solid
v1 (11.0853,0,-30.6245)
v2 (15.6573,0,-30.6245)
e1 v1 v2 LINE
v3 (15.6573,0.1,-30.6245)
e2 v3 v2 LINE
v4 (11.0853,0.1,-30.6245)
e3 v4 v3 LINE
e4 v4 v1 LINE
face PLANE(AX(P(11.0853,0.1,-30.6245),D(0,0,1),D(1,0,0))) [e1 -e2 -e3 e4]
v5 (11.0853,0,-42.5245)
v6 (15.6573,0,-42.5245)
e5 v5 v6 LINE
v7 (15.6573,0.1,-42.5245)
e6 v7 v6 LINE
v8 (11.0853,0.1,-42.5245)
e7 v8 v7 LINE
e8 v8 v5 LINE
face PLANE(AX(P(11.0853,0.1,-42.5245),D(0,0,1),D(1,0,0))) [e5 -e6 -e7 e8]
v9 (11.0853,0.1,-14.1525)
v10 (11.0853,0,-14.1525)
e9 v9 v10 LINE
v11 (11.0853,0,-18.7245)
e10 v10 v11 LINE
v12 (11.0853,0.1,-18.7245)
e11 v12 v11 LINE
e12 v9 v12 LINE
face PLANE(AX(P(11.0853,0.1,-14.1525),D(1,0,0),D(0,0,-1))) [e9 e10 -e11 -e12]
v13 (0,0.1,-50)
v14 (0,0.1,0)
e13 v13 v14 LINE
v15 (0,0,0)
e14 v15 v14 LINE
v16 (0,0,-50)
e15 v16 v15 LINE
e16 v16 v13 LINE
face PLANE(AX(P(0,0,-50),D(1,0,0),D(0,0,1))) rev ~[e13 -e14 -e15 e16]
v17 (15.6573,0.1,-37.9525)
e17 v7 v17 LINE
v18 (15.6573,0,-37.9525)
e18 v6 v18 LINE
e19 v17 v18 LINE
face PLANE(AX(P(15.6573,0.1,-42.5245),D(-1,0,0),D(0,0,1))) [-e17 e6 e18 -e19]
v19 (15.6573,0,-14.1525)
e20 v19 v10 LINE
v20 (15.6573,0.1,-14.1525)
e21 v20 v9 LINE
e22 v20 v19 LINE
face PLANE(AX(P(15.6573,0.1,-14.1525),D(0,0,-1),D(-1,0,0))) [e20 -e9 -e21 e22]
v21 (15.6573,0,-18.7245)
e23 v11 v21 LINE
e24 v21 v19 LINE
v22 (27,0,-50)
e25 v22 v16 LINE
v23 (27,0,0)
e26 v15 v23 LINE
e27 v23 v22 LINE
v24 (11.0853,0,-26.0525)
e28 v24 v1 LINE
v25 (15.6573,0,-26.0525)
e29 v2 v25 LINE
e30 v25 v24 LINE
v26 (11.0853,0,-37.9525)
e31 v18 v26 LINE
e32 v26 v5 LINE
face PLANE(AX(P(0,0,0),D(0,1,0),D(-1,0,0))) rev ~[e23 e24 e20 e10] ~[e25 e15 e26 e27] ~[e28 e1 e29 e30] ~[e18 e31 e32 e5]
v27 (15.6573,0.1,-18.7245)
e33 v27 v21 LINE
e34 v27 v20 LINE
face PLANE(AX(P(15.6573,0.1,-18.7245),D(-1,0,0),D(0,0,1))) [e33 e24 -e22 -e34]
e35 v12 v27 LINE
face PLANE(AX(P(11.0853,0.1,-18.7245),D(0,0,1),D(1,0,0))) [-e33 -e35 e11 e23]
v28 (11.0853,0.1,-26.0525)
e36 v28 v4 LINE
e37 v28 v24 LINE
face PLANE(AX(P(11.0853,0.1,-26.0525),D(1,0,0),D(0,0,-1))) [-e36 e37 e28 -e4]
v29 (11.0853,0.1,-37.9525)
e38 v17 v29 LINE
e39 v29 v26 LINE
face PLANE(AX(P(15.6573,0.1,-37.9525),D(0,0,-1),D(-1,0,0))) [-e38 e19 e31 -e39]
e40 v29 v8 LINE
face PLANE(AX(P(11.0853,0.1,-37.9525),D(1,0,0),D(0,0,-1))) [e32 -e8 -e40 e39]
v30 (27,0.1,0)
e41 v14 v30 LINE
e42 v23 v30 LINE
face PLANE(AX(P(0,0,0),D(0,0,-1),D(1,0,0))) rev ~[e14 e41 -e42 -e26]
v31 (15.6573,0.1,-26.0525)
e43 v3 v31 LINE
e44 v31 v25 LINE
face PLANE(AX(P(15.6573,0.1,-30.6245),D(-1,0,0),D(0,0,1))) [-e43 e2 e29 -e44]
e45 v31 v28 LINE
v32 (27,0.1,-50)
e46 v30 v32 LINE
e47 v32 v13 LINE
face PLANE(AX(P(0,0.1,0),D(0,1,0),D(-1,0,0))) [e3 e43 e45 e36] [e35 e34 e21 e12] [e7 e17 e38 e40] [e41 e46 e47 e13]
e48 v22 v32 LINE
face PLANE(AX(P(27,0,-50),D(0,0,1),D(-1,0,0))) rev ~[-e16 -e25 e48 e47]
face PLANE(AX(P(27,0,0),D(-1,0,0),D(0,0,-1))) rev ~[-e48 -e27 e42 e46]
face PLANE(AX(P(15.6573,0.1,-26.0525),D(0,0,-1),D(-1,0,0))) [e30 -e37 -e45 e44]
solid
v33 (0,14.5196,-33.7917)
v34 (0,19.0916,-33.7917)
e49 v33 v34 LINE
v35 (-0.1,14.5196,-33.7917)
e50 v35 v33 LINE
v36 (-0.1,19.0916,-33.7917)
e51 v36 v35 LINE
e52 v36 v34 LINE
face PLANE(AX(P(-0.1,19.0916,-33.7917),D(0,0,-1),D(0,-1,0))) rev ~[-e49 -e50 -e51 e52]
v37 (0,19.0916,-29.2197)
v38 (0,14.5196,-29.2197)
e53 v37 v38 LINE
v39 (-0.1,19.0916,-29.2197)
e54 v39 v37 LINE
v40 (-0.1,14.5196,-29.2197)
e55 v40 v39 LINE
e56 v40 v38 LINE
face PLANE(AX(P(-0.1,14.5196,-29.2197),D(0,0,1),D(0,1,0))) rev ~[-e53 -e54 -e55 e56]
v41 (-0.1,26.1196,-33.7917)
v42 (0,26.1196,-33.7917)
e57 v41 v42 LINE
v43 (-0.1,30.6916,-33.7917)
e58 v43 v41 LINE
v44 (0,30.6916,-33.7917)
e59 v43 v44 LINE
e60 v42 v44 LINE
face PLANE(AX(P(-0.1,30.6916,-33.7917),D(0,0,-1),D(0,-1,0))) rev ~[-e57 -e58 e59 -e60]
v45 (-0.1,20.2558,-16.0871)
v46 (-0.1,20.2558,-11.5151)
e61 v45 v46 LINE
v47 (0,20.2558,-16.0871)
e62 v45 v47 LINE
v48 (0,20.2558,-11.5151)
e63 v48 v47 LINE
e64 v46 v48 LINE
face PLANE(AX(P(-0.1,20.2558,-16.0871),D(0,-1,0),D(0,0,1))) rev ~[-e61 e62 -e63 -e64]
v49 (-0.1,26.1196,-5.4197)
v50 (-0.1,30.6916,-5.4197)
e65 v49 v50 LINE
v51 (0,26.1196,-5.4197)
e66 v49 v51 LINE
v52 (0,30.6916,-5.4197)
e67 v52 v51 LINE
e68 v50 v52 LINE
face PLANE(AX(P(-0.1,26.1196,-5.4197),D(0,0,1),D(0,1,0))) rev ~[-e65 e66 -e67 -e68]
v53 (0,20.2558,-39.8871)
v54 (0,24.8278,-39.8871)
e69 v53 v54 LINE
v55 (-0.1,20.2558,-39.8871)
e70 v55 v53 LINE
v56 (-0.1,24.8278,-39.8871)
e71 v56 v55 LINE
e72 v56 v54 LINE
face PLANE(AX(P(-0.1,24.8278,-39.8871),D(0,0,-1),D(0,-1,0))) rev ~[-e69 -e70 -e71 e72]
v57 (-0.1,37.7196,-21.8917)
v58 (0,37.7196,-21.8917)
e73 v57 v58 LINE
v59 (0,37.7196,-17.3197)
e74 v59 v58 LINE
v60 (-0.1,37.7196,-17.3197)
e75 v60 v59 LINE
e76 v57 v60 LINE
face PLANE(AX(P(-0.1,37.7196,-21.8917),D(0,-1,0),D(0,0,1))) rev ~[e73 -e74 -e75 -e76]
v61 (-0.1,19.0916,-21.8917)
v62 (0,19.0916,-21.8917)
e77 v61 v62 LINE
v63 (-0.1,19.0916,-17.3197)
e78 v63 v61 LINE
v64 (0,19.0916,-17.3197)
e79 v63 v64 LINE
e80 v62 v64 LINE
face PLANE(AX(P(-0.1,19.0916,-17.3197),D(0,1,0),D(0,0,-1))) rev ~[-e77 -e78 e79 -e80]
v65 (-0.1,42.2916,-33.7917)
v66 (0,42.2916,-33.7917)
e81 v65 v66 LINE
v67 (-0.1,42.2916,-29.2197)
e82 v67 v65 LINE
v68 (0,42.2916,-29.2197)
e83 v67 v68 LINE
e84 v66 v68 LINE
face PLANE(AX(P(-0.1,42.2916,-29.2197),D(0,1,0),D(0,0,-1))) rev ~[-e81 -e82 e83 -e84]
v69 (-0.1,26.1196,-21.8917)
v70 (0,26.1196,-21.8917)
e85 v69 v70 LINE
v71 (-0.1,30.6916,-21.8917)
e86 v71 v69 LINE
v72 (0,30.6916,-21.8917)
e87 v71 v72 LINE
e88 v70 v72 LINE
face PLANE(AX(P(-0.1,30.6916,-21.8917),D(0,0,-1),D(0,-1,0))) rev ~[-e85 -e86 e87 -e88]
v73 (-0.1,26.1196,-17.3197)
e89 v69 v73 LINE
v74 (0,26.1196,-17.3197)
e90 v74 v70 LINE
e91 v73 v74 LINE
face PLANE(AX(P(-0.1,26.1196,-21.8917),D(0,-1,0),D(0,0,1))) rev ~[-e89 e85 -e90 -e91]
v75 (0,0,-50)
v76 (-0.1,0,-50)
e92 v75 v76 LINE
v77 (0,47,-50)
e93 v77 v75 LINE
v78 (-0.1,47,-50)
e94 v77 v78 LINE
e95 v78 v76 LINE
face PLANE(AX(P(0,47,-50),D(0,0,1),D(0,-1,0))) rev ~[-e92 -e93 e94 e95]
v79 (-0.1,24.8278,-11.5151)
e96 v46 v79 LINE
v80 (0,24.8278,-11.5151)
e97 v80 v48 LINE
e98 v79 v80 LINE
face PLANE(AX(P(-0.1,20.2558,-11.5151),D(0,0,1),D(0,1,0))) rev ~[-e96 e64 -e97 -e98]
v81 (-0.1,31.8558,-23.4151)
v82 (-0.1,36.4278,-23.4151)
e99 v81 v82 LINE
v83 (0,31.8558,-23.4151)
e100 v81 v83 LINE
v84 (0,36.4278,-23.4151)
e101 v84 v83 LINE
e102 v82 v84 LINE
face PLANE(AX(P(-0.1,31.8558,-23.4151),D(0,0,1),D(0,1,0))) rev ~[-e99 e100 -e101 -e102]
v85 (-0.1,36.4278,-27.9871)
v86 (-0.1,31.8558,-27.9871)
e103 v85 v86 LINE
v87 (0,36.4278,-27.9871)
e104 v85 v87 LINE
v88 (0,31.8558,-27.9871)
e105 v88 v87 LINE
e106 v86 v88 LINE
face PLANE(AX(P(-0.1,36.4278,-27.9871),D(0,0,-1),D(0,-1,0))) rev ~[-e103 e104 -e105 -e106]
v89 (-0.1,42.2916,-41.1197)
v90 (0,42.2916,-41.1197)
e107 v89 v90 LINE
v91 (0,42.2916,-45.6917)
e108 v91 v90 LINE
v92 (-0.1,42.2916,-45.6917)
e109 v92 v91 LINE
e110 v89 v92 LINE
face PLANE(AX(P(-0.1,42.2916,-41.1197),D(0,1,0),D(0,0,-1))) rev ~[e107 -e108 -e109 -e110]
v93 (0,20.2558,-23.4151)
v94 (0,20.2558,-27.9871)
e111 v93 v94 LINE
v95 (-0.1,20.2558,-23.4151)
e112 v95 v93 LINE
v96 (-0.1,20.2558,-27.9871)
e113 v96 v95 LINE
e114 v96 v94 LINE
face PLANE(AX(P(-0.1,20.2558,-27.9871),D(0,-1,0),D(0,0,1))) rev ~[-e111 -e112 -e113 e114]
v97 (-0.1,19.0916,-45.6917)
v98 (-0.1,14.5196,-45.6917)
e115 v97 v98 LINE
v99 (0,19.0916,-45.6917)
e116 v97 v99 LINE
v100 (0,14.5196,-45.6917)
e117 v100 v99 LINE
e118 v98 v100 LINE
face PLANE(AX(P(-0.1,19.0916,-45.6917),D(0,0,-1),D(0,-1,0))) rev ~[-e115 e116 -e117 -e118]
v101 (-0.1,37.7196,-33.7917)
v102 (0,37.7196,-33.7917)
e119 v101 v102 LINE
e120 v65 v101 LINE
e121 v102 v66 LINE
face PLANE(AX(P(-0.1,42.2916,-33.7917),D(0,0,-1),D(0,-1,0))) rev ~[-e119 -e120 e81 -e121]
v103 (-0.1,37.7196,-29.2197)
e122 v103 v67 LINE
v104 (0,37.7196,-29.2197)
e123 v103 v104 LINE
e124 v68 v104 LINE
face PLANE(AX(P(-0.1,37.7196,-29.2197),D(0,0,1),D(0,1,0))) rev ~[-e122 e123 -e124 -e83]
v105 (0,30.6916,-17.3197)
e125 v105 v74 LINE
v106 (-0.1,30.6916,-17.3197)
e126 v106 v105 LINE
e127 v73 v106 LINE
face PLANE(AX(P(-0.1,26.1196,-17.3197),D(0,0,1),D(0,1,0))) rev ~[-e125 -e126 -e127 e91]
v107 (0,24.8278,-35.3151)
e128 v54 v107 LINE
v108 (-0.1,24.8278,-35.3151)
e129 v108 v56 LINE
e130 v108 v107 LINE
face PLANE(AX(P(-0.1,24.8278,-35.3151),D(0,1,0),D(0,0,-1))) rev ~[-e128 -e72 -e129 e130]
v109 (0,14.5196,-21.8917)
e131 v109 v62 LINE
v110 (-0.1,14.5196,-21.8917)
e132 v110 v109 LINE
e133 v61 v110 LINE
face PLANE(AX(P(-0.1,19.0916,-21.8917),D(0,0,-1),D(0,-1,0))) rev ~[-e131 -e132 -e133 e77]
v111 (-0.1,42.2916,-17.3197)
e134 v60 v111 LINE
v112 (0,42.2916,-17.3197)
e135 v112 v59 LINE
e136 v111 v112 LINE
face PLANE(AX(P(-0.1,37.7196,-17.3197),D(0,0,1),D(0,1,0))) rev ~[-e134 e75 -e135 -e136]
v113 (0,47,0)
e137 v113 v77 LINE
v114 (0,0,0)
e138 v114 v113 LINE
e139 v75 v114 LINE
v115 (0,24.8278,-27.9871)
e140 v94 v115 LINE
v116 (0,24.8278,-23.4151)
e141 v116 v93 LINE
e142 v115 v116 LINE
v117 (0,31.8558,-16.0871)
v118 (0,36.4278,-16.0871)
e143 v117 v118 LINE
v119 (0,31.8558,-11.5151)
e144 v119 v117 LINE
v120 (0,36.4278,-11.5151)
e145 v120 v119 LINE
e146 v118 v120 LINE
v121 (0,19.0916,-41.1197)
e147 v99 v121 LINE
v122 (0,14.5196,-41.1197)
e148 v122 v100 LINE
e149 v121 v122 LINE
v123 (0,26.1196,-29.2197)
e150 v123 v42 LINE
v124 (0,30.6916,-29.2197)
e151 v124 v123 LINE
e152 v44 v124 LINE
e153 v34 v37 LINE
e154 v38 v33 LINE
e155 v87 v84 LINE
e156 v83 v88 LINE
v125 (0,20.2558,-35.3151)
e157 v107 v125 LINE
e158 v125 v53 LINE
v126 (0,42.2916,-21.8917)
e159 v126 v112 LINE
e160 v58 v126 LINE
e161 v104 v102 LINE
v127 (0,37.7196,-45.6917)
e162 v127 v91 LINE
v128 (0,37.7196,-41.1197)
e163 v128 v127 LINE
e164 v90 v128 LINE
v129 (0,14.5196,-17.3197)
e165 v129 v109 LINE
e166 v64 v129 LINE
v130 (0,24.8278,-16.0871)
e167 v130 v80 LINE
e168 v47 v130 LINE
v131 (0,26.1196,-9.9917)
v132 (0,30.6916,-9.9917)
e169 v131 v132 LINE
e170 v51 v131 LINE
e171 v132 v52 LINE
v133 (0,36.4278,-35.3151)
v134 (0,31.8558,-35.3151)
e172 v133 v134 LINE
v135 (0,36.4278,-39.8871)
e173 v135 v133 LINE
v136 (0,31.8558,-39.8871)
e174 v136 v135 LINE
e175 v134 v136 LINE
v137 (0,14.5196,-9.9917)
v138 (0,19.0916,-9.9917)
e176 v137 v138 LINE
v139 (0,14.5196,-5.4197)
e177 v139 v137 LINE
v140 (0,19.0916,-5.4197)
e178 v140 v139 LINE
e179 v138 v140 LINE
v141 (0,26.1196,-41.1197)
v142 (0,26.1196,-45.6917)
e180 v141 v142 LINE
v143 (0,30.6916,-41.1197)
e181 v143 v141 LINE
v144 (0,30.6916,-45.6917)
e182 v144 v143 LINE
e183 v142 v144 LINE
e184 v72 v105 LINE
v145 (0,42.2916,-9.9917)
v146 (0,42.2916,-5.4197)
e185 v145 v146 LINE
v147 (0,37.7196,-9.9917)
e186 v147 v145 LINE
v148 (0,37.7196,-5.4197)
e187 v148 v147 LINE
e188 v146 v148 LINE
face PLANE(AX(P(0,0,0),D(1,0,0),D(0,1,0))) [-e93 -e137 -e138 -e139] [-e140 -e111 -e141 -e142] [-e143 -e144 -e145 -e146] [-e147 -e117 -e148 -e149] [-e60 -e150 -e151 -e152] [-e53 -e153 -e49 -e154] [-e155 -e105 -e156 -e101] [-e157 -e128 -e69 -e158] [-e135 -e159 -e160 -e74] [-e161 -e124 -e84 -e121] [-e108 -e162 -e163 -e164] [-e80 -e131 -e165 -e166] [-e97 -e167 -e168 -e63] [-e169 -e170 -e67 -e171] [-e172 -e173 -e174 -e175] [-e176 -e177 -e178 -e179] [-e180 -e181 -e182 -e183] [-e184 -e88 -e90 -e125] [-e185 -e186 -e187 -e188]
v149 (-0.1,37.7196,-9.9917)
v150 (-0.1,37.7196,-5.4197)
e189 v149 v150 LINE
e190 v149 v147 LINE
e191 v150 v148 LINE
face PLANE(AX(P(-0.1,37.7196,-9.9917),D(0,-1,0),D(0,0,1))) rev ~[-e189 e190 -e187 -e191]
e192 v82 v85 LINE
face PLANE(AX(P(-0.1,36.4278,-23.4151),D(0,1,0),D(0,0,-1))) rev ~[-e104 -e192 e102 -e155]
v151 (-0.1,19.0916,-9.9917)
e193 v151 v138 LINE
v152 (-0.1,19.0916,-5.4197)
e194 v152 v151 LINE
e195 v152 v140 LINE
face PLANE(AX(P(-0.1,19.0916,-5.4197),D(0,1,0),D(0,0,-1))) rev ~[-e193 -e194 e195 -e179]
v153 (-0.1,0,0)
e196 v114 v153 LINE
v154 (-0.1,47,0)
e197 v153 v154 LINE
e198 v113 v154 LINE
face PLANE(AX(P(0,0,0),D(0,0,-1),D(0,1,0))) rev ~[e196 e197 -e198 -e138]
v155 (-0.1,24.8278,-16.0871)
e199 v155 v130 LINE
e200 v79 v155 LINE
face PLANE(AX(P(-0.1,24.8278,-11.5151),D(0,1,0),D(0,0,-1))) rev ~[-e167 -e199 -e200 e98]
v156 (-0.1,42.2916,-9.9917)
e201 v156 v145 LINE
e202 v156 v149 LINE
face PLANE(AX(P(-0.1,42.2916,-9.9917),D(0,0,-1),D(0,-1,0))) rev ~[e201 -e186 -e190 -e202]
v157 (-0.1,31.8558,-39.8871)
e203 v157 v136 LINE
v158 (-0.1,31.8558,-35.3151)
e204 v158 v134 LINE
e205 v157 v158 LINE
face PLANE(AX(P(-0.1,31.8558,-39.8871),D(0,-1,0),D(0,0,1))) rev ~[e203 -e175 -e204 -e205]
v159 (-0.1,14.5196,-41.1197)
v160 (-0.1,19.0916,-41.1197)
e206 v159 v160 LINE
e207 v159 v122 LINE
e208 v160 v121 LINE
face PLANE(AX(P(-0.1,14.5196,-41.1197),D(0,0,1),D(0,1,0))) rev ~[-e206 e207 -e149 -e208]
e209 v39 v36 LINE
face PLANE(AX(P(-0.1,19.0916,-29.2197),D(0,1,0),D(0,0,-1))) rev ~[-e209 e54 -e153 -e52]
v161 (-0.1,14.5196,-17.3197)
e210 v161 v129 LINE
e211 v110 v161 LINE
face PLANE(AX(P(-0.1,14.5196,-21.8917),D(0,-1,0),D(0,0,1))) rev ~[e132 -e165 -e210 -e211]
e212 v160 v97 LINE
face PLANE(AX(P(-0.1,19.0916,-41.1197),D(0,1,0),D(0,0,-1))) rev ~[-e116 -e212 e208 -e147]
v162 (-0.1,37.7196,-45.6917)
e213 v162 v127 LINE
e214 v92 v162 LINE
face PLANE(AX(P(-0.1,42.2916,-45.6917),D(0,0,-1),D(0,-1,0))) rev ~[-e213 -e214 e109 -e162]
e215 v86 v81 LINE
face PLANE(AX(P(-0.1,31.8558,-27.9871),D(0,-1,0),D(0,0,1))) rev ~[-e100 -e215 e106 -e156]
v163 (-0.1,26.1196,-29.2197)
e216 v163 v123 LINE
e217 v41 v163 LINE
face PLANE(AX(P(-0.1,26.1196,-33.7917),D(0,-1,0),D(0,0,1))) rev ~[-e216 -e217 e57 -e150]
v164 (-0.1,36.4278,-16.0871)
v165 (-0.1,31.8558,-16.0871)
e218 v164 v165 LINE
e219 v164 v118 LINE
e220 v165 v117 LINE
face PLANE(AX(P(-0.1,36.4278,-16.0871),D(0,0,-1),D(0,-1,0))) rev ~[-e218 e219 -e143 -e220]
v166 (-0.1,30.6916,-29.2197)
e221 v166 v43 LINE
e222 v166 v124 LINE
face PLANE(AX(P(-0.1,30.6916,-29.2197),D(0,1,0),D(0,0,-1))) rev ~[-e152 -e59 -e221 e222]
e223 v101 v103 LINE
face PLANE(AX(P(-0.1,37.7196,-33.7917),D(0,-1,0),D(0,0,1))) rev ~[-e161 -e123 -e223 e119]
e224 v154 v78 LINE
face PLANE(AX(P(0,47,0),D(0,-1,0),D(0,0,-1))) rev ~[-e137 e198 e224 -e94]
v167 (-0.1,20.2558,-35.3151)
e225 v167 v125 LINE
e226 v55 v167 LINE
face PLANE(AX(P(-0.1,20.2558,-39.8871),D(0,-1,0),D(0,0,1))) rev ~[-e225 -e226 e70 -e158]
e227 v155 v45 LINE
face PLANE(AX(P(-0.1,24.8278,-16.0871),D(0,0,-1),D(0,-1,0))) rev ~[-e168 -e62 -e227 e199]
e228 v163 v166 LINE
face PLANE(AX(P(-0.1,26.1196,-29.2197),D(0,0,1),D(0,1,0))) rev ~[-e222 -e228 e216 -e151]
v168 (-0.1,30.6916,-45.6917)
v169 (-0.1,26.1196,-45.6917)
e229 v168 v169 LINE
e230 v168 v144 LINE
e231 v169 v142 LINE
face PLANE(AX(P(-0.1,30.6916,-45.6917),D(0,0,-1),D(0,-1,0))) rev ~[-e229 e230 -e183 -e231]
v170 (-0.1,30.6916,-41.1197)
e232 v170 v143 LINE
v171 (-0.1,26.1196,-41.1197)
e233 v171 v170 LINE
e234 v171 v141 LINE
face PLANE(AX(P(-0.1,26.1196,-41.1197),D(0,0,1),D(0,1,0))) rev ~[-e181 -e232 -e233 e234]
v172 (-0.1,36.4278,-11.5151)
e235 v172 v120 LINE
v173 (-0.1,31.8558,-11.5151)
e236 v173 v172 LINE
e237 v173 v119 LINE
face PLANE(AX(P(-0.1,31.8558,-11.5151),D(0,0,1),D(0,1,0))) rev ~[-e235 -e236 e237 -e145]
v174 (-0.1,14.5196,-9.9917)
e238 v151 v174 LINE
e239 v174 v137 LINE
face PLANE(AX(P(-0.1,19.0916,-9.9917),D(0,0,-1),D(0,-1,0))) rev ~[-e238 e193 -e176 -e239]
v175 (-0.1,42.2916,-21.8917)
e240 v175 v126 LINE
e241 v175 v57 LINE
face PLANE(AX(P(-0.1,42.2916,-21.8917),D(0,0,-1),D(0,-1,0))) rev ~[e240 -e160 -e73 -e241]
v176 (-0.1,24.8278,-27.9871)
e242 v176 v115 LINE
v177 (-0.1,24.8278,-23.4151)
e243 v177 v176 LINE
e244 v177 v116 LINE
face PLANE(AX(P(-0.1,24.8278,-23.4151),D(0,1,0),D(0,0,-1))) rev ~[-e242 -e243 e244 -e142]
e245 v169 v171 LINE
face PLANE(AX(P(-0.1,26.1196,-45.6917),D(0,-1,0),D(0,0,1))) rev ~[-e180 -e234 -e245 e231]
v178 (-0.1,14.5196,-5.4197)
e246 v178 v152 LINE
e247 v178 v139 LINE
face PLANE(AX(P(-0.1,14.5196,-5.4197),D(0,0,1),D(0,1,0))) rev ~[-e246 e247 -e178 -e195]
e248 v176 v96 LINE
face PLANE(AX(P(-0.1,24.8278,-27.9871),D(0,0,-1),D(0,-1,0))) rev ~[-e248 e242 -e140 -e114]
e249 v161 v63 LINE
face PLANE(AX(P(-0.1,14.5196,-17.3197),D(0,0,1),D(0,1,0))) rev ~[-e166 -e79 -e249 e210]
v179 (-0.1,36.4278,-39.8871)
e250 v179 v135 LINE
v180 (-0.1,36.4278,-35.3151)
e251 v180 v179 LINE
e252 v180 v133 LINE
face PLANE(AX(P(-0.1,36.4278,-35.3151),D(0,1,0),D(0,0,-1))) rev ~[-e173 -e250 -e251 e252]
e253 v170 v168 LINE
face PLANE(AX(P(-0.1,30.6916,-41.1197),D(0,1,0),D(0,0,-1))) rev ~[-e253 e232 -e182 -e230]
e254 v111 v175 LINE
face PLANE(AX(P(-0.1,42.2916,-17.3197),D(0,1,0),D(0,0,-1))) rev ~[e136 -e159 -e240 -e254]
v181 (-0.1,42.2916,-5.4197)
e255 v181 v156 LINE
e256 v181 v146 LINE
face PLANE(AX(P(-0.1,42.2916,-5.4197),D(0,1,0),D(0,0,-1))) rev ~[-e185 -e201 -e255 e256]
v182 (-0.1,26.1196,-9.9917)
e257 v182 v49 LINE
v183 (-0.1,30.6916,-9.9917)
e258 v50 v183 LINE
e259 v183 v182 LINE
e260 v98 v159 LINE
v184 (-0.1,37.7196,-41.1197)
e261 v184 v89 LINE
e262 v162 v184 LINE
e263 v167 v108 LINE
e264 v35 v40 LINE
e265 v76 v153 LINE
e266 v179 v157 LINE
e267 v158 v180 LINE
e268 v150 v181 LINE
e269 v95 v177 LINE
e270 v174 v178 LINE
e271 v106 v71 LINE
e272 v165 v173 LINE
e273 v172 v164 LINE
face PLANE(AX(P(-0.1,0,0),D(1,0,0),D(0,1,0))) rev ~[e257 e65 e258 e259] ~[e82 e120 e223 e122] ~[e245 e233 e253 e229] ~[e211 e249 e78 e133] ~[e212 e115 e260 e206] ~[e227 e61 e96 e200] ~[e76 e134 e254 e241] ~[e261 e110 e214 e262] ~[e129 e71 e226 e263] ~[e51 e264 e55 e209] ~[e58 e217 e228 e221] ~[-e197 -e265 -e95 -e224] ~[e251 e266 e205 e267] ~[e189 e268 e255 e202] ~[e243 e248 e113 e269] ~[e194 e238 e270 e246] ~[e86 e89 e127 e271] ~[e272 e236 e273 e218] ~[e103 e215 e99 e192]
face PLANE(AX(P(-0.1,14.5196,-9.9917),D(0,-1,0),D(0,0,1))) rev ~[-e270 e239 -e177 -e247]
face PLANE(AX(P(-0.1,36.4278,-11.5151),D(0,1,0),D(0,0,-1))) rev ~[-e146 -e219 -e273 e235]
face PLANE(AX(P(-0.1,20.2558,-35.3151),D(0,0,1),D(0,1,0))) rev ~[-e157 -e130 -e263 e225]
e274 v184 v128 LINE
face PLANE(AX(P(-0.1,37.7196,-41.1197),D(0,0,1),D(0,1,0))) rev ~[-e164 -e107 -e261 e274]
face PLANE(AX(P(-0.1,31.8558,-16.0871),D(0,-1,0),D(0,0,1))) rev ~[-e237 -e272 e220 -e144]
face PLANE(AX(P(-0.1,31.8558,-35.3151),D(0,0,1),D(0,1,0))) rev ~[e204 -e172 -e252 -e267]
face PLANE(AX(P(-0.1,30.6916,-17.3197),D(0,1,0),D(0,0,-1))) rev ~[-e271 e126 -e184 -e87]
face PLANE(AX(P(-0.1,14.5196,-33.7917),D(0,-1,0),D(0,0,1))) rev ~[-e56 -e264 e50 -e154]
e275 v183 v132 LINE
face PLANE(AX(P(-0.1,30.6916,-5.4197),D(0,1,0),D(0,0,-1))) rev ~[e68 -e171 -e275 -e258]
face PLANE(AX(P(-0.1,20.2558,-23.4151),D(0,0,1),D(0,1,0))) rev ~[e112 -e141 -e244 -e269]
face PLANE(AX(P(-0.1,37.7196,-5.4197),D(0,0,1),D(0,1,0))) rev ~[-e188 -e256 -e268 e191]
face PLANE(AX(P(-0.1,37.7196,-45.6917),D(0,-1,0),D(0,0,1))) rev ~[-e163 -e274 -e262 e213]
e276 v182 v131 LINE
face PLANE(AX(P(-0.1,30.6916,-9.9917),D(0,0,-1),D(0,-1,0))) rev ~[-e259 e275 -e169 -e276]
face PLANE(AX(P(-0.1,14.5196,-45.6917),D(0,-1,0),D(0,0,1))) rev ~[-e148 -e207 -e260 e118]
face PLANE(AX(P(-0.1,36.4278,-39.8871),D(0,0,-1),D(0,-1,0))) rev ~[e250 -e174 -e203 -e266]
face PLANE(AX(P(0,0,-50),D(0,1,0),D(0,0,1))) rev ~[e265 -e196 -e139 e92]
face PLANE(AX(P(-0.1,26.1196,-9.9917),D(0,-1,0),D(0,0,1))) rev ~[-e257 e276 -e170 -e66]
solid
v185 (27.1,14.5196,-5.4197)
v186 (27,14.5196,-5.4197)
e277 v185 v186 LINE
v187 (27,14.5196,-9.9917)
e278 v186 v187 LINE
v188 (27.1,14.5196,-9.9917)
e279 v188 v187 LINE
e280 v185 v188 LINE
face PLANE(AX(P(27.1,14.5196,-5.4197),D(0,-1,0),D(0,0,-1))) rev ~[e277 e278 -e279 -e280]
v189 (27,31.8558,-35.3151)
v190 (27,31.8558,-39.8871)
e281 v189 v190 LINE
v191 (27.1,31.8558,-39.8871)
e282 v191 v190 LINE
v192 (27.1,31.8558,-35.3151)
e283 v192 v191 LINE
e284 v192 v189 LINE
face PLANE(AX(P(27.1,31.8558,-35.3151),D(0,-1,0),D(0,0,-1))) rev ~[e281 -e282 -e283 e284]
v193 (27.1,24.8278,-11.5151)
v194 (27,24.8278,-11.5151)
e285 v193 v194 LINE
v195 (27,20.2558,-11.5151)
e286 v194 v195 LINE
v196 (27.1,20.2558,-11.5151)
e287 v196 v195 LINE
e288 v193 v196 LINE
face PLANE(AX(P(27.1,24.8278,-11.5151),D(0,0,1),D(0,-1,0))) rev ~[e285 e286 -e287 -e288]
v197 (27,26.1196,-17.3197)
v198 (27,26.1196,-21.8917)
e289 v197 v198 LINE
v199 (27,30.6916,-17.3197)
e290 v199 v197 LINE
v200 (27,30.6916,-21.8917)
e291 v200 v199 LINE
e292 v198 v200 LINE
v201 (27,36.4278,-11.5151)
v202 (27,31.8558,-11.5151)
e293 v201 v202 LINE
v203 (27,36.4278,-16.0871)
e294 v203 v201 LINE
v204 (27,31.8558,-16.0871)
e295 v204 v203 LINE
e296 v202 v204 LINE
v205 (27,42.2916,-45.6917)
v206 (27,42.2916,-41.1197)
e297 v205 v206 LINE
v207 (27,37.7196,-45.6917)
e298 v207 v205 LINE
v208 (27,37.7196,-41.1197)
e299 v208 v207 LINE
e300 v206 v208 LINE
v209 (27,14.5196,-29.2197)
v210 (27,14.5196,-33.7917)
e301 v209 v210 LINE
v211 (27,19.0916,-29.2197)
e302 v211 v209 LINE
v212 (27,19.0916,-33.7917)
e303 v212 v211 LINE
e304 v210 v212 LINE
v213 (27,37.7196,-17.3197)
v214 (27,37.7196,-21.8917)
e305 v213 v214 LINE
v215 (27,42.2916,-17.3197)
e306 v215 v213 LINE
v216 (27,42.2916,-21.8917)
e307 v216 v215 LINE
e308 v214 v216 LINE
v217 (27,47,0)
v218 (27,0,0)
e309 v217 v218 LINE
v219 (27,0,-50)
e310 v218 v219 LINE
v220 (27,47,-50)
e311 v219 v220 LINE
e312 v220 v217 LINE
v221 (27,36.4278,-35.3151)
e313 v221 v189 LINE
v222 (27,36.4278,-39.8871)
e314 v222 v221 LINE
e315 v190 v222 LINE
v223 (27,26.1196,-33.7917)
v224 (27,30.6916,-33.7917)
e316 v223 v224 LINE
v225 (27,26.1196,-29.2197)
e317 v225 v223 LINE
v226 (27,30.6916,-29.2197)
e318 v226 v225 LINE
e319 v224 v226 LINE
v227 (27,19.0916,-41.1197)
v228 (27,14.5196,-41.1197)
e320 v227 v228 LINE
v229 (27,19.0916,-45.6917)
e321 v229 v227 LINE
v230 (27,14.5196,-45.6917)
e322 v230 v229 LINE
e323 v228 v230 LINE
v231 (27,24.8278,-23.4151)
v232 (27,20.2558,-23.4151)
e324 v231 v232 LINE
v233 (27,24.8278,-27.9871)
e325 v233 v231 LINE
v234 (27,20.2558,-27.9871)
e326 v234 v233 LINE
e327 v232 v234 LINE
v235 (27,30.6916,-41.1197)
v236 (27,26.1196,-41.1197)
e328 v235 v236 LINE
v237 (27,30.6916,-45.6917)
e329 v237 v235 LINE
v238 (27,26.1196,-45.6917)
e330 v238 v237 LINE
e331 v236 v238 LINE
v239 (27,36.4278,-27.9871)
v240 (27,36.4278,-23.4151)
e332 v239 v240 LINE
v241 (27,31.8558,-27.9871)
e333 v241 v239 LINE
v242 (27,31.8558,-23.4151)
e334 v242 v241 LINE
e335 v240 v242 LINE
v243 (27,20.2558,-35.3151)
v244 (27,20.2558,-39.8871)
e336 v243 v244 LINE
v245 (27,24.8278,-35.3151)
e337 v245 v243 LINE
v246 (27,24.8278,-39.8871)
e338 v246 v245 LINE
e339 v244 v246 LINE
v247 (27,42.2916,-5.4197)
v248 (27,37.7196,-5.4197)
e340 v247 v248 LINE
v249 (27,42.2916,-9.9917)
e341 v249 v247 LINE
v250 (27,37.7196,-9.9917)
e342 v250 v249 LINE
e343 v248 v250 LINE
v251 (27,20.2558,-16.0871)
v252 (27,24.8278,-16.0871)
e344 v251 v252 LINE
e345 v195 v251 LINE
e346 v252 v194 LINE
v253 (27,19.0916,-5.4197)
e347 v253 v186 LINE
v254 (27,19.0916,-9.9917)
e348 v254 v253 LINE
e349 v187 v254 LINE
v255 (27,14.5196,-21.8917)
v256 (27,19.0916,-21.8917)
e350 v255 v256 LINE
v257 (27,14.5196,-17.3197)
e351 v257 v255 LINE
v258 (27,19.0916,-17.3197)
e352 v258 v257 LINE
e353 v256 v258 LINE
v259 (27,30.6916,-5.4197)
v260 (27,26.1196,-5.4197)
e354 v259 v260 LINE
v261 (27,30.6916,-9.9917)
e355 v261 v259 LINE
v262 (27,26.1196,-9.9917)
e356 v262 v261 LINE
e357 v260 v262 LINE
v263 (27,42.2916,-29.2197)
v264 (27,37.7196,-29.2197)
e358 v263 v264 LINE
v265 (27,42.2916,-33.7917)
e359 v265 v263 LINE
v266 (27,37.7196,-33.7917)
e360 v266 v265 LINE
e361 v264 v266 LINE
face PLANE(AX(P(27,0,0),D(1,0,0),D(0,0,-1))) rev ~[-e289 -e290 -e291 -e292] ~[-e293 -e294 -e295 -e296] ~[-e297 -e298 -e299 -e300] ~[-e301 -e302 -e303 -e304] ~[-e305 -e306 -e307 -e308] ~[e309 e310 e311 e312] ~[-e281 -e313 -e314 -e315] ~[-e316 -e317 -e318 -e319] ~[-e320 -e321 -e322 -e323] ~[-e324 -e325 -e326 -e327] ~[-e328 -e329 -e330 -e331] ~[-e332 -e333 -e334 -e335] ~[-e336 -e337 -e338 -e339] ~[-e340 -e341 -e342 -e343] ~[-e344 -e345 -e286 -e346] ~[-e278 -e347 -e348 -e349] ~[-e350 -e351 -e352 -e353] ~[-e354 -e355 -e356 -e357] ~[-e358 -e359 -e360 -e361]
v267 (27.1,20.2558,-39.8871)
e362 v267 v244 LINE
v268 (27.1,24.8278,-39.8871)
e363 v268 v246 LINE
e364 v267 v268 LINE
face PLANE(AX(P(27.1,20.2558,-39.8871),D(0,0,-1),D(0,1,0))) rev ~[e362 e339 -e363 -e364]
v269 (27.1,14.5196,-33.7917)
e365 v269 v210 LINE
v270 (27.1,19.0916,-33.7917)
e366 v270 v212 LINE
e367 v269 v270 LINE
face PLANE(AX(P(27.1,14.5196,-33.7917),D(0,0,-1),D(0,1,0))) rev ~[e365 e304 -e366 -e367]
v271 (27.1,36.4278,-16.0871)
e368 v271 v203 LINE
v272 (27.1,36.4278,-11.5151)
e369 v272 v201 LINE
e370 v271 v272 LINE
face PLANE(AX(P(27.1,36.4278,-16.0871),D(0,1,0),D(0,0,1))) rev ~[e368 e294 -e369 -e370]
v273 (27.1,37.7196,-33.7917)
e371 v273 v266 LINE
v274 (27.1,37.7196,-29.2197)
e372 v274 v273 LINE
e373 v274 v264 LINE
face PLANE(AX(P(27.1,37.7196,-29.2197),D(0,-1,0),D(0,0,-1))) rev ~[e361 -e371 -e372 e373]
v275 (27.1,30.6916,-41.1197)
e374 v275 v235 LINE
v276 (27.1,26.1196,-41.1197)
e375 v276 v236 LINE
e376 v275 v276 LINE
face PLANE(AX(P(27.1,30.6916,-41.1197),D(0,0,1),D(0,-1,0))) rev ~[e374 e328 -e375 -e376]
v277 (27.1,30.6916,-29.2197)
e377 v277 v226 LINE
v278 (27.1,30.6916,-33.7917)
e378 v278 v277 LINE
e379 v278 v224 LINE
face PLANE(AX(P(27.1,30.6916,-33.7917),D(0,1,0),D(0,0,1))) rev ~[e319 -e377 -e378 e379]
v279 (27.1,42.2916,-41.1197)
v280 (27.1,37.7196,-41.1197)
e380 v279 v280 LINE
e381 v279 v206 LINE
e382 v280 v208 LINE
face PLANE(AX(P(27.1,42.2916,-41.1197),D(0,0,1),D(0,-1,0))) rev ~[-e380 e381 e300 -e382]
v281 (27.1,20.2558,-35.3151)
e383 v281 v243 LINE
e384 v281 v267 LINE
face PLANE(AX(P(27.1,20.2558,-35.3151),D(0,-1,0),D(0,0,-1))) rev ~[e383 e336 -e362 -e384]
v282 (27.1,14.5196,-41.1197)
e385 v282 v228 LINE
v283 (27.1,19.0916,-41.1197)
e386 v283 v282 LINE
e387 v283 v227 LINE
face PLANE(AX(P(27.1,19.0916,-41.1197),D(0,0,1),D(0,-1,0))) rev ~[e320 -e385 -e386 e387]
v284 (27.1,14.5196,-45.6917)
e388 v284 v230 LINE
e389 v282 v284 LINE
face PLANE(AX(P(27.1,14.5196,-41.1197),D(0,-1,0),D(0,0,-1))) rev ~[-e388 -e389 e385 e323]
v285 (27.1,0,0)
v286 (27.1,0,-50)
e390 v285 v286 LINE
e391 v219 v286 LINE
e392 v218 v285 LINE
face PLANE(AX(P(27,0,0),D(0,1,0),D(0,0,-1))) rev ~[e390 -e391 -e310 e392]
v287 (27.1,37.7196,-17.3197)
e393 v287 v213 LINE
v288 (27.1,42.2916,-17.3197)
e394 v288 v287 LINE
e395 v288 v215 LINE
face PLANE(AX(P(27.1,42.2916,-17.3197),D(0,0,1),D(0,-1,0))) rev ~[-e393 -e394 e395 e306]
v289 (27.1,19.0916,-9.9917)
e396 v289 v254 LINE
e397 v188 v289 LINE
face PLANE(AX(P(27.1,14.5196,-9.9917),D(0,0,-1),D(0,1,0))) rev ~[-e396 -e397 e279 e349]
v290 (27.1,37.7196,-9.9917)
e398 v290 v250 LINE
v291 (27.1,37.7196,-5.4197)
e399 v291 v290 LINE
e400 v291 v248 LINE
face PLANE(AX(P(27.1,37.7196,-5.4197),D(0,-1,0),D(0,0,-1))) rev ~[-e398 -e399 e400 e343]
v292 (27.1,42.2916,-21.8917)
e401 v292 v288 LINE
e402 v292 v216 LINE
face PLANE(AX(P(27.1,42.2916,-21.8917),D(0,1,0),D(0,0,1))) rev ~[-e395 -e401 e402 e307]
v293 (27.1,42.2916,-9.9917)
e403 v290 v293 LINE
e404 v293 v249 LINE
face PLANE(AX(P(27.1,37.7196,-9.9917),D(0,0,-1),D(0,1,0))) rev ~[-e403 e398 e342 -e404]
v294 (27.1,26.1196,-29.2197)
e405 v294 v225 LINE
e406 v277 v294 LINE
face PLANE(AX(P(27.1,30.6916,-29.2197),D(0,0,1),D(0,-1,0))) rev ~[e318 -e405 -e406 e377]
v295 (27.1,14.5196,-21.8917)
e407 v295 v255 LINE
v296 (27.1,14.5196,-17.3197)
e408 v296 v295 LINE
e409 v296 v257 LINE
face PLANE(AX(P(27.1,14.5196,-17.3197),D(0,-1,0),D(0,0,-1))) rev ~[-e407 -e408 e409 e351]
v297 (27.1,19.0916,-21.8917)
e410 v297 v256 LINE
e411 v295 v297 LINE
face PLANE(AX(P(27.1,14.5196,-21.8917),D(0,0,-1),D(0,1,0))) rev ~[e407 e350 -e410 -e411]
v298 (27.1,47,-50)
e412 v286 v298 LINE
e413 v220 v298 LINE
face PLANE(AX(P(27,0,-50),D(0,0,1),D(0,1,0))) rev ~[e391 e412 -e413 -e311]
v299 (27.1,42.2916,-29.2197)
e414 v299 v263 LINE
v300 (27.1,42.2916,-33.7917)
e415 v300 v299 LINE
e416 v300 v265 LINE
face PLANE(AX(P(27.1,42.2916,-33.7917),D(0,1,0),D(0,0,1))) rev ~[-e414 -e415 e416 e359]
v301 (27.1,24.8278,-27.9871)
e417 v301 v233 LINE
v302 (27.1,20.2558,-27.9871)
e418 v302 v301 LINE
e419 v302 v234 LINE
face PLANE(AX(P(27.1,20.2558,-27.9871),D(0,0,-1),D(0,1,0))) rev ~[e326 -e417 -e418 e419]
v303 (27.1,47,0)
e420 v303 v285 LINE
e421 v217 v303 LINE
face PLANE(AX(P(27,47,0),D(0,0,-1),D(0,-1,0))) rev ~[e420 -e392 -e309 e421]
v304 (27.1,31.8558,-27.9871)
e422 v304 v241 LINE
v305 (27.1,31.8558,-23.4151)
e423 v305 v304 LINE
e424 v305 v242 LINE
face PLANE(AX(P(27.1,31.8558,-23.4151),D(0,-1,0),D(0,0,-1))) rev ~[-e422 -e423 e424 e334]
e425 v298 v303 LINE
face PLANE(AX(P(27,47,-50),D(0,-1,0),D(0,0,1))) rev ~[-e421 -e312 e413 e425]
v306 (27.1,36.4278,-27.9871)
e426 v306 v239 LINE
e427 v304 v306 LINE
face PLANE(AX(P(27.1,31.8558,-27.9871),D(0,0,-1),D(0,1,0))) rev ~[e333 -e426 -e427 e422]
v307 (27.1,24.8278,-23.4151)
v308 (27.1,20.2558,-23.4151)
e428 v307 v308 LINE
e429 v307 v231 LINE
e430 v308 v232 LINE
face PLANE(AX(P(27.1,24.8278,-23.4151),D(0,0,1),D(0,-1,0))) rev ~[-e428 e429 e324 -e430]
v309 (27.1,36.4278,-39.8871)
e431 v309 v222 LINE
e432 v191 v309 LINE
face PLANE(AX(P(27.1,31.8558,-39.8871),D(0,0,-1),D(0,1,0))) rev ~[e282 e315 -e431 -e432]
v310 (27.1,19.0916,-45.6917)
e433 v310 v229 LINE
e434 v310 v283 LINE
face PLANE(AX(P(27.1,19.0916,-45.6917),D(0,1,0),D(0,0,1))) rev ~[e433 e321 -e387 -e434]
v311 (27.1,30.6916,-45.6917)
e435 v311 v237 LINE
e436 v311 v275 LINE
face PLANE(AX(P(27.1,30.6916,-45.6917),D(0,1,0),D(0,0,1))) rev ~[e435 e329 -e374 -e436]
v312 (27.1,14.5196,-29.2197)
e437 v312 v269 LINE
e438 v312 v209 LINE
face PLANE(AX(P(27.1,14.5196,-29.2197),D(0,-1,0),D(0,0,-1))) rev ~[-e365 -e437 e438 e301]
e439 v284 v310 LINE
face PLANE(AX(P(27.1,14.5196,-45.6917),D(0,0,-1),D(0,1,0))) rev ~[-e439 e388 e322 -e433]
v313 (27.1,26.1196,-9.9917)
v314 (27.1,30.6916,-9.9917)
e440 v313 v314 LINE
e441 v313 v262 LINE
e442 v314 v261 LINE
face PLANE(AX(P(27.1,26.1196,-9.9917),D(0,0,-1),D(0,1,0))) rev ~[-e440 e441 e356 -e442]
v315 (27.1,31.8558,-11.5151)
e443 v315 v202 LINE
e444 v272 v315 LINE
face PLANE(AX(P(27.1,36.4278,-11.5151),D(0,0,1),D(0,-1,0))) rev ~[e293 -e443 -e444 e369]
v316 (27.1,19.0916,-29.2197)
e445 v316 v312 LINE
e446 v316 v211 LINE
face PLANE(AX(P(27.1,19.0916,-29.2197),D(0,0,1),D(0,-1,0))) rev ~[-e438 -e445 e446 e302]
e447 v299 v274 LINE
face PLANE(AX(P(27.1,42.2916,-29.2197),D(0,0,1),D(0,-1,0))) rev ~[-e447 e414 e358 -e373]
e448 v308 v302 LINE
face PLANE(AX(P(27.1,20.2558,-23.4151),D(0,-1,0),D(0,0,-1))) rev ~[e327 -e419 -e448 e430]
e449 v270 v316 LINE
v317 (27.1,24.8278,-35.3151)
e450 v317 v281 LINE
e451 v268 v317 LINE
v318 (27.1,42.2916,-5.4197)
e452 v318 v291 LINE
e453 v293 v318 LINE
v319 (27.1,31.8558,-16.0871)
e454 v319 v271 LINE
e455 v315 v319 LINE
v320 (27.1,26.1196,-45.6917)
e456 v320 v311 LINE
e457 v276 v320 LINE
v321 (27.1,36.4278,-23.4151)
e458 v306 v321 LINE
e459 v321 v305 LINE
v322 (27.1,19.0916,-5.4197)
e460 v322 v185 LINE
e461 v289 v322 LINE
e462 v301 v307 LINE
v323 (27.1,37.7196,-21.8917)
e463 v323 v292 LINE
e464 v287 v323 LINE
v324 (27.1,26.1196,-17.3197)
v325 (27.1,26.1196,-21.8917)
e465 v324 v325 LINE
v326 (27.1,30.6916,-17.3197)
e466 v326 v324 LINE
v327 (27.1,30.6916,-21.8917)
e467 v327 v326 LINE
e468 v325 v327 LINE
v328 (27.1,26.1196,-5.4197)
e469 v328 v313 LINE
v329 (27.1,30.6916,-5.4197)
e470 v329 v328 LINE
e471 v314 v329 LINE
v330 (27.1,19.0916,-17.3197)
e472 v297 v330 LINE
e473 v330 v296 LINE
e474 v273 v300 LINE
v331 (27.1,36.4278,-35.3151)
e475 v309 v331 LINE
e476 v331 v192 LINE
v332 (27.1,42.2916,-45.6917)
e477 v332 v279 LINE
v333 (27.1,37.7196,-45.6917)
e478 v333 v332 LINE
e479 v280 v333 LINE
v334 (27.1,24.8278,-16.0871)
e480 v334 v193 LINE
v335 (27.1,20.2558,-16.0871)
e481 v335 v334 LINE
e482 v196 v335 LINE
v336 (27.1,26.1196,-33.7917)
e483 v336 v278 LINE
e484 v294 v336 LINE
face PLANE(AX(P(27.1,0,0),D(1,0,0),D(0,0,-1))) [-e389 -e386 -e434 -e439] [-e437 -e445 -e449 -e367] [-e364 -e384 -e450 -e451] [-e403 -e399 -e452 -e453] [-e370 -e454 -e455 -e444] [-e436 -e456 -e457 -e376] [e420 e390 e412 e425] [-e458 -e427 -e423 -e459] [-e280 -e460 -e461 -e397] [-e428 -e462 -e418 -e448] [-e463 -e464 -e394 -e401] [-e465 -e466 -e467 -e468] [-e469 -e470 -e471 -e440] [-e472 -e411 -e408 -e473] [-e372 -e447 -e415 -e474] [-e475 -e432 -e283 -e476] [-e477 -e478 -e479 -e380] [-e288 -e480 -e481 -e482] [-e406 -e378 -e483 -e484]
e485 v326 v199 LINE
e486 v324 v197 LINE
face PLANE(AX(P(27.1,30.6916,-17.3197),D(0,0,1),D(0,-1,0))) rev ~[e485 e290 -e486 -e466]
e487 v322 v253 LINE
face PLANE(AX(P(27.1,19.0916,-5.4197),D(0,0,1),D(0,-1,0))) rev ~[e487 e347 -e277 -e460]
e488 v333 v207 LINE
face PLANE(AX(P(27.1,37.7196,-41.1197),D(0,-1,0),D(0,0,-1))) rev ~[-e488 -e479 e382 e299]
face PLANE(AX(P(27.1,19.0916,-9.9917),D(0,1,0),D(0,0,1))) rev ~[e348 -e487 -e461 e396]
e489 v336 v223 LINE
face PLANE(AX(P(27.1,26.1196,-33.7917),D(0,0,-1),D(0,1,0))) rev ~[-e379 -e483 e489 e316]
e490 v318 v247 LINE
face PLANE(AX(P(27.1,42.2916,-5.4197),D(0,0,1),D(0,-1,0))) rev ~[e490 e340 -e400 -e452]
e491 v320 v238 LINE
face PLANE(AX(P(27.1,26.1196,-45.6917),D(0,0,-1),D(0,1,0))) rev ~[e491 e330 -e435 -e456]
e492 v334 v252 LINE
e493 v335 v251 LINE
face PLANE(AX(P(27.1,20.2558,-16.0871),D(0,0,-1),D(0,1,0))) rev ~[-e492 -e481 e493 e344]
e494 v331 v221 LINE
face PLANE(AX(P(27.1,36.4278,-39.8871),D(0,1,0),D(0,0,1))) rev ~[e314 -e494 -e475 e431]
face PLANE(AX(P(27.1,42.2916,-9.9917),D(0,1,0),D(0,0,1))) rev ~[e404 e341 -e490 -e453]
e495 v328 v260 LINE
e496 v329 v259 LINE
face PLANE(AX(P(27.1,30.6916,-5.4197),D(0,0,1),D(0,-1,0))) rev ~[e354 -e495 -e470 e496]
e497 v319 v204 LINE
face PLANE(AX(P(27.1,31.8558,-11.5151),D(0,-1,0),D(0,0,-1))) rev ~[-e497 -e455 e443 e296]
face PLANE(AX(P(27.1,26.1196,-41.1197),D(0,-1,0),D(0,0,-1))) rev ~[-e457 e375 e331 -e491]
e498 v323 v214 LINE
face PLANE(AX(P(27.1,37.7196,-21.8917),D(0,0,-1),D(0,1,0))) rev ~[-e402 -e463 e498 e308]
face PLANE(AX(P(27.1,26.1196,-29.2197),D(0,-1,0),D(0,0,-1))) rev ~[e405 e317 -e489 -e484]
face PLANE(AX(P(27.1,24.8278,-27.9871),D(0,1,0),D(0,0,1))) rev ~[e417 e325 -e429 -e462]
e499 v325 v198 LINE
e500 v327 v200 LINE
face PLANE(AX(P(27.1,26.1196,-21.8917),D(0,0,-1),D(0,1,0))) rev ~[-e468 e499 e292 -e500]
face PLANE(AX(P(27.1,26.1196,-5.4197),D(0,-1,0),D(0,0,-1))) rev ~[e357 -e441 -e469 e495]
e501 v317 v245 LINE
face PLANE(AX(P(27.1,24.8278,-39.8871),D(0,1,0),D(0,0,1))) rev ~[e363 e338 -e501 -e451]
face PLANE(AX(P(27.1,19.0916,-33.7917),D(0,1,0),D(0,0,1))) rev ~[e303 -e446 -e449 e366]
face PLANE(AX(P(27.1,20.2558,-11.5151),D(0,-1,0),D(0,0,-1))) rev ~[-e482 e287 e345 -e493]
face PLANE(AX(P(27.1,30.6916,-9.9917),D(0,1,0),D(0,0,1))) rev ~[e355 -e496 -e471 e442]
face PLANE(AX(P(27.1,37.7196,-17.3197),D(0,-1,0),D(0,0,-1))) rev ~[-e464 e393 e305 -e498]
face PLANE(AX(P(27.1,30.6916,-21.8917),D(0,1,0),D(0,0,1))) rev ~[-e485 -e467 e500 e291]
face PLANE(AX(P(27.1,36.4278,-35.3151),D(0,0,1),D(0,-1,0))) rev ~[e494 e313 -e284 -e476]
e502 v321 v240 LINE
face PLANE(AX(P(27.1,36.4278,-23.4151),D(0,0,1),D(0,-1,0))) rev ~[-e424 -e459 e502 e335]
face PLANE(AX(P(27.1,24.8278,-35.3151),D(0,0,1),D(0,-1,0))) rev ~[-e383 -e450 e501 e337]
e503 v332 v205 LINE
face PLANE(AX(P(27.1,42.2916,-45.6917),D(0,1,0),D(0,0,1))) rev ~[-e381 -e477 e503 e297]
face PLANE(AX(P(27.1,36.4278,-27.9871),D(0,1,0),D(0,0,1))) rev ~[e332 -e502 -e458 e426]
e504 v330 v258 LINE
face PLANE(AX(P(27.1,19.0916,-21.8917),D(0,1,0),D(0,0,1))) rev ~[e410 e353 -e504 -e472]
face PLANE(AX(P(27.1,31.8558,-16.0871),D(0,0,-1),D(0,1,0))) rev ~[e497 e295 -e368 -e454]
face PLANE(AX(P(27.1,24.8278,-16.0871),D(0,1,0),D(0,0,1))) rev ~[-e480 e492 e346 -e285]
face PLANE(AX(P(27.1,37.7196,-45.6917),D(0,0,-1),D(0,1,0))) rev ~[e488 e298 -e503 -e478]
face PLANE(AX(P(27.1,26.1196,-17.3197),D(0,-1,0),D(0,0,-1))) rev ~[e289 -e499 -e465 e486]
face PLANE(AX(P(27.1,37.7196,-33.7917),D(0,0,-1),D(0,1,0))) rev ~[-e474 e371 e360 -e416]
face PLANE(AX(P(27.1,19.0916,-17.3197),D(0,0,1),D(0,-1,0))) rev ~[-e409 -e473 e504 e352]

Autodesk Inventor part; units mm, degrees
ref_plane "YZ Plane" through (0, 0, 0) normal (1, 0, 0) x (0, 1, 0)
ref_plane "XZ Plane" through (0, 0, 0) normal (0, 1, 0) x (-1, 0, 0)
ref_plane "XY Plane" through (0, 0, 0) normal (0, 0, 1) x (1, 0, 0)
sketch "Sketch1" plane through (0, 0, 0) normal (1, 0, 0) x (0, 1, 0)
  line L0 (0, 0) -> (47, 0)
  line L1 (47, 0) -> (47, -50)
  line L2 (47, -50) -> (0, -50)
  line L3 (0, -50) -> (0, 0)
  dimension "d0" = 47
  dimension "d1" = 50
sketch "Sketch2" plane through (0, 0, 0) normal (0, 1, 0) x (-1, 0, 0)
  line L0 (0, 0) -> (-27, 0)
  line L1 (-27, 0) -> (-27, -50)
  line L2 (-27, -50) -> (0, -50)
  line L3 (0, -50) -> (0, 0)
  dimension "d2" = 27
  dimension "d3" = 50
extrude "Extrusion1" add sketch "Sketch1" against normal blind 0.1
extrude "Extrusion2" add sketch "Sketch2" along normal blind 0.1 separate body
sketch "Sketch3" plane through (27, 0, 0) normal (1, 0, 0) x (0, 0, -1)
  point P0 (0, 0)
sketch "Sketch4" plane through (27, 0, 0) normal (1, 0, 0) x (0, 0, -1)
  line L0 (0, 0) -> (50, 0)
  line L1 (50, 0) -> (50, 47)
  line L2 (50, 47) -> (0, 47)
  line L3 (0, 47) -> (0, 0)
  dimension "d8" = 50
  dimension "d9" = 47
extrude "Extrusion3" add sketch "Sketch4" along normal blind 0.1 separate body
sketch "Sketch5" plane through (0, 0.1, 0) normal (0, 1, 0) x (1, 0, 0)
  line L0 (11.0853, 42.5245) -> (15.6573, 42.5245)
  line L1 (15.6573, 42.5245) -> (15.6573, 37.9525)
  line L2 (15.6573, 37.9525) -> (11.0853, 37.9525)
  line L3 (11.0853, 37.9525) -> (11.0853, 42.5245)
  line L4 (11.0853, 30.6245) -> (15.6573, 30.6245)
  line L5 (15.6573, 30.6245) -> (15.6573, 26.0525)
  line L6 (15.6573, 26.0525) -> (11.0853, 26.0525)
  line L7 (11.0853, 26.0525) -> (11.0853, 30.6245)
  line L8 (11.0853, 18.7245) -> (15.6573, 18.7245)
  line L9 (15.6573, 18.7245) -> (15.6573, 14.1525)
  line L10 (15.6573, 14.1525) -> (11.0853, 14.1525)
  line L11 (11.0853, 14.1525) -> (11.0853, 18.7245)
  point P0 (0, 0)
  dimension "d12" = 4.572
  dimension "d13" = 4.572
  dimension "d16" = 11.9
extrude "Extrusion4" cut sketch "Sketch5" against normal through all bodies 2
sketch "Sketch6" plane through (27.1, 0, 0) normal (1, 0, 0) x (0, 0, -1)
  line L0 (45.6917, 42.2916) -> (41.1197, 42.2916)
  line L1 (41.1197, 42.2916) -> (41.1197, 37.7196)
  line L2 (41.1197, 37.7196) -> (45.6917, 37.7196)
  line L3 (45.6917, 37.7196) -> (45.6917, 42.2916)
  line L4 (33.7917, 37.7196) -> (33.7917, 42.2916)
  line L5 (33.7917, 42.2916) -> (29.2197, 42.2916)
  line L6 (29.2197, 42.2916) -> (29.2197, 37.7196)
  line L7 (29.2197, 37.7196) -> (33.7917, 37.7196)
  line L8 (21.8917, 37.7196) -> (21.8917, 42.2916)
  line L9 (21.8917, 42.2916) -> (17.3197, 42.2916)
  line L10 (17.3197, 42.2916) -> (17.3197, 37.7196)
  line L11 (17.3197, 37.7196) -> (21.8917, 37.7196)
  line L12 (9.9917, 37.7196) -> (9.9917, 42.2916)
  line L13 (9.9917, 42.2916) -> (5.4197, 42.2916)
  line L14 (5.4197, 42.2916) -> (5.4197, 37.7196)
  line L15 (5.4197, 37.7196) -> (9.9917, 37.7196)
  line L16 (45.6917, 26.1196) -> (45.6917, 30.6916)
  line L17 (45.6917, 30.6916) -> (41.1197, 30.6916)
  line L18 (41.1197, 30.6916) -> (41.1197, 26.1196)
  line L19 (41.1197, 26.1196) -> (45.6917, 26.1196)
  line L20 (33.7917, 26.1196) -> (33.7917, 30.6916)
  line L21 (33.7917, 30.6916) -> (29.2197, 30.6916)
  line L22 (29.2197, 30.6916) -> (29.2197, 26.1196)
  line L23 (29.2197, 26.1196) -> (33.7917, 26.1196)
  line L24 (21.8917, 26.1196) -> (21.8917, 30.6916)
  line L25 (21.8917, 30.6916) -> (17.3197, 30.6916)
  line L26 (17.3197, 30.6916) -> (17.3197, 26.1196)
  line L27 (17.3197, 26.1196) -> (21.8917, 26.1196)
  line L28 (9.9917, 26.1196) -> (9.9917, 30.6916)
  line L29 (9.9917, 30.6916) -> (5.4197, 30.6916)
  line L30 (5.4197, 30.6916) -> (5.4197, 26.1196)
  line L31 (5.4197, 26.1196) -> (9.9917, 26.1196)
  line L32 (45.6917, 14.5196) -> (45.6917, 19.0916)
  line L33 (45.6917, 19.0916) -> (41.1197, 19.0916)
  line L34 (41.1197, 19.0916) -> (41.1197, 14.5196)
  line L35 (41.1197, 14.5196) -> (45.6917, 14.5196)
  line L36 (33.7917, 14.5196) -> (33.7917, 19.0916)
  line L37 (33.7917, 19.0916) -> (29.2197, 19.0916)
  line L38 (29.2197, 19.0916) -> (29.2197, 14.5196)
  line L39 (29.2197, 14.5196) -> (33.7917, 14.5196)
  line L40 (21.8917, 14.5196) -> (21.8917, 19.0916)
  line L41 (21.8917, 19.0916) -> (17.3197, 19.0916)
  line L42 (17.3197, 19.0916) -> (17.3197, 14.5196)
  line L43 (17.3197, 14.5196) -> (21.8917, 14.5196)
  line L44 (9.9917, 14.5196) -> (9.9917, 19.0916)
  line L45 (9.9917, 19.0916) -> (5.4197, 19.0916)
  line L46 (5.4197, 19.0916) -> (5.4197, 14.5196)
  line L47 (5.4197, 14.5196) -> (9.9917, 14.5196)
  line L48 (39.8871, 36.4278) -> (35.3151, 36.4278)
  line L49 (35.3151, 36.4278) -> (35.3151, 31.8558)
  line L50 (35.3151, 31.8558) -> (39.8871, 31.8558)
  line L51 (39.8871, 31.8558) -> (39.8871, 36.4278)
  line L52 (39.8871, 20.2558) -> (39.8871, 24.8278)
  line L53 (35.3151, 24.8278) -> (35.3151, 20.2558)
  line L54 (35.3151, 20.2558) -> (39.8871, 20.2558)
  line L55 (39.8871, 24.8278) -> (35.3151, 24.8278)
  line L56 (27.9871, 31.8558) -> (27.9871, 36.4278)
  line L57 (23.4151, 36.4278) -> (23.4151, 31.8558)
  line L58 (23.4151, 31.8558) -> (27.9871, 31.8558)
  line L59 (27.9871, 36.4278) -> (23.4151, 36.4278)
  line L60 (27.9871, 20.2558) -> (27.9871, 24.8278)
  line L61 (23.4151, 24.8278) -> (23.4151, 20.2558)
  line L62 (23.4151, 20.2558) -> (27.9871, 20.2558)
  line L63 (27.9871, 24.8278) -> (23.4151, 24.8278)
  line L64 (16.0871, 31.8558) -> (16.0871, 36.4278)
  line L65 (11.5151, 36.4278) -> (11.5151, 31.8558)
  line L66 (11.5151, 31.8558) -> (16.0871, 31.8558)
  line L67 (16.0871, 36.4278) -> (11.5151, 36.4278)
  line L68 (16.0871, 20.2558) -> (16.0871, 24.8278)
  line L69 (11.5151, 24.8278) -> (11.5151, 20.2558)
  line L70 (11.5151, 20.2558) -> (16.0871, 20.2558)
  line L71 (16.0871, 24.8278) -> (11.5151, 24.8278)
  point P0 (0, 0)
  dimension "d23" = 4.572
  dimension "d24" = 4.572
  dimension "d27" = 11.9
  dimension "d30" = 11.6
  dimension "d33" = 4.572
  dimension "d34" = 4.572
  dimension "d37" = 11.6
  dimension "d40" = 11.9
extrude "Extrusion5" cut sketch "Sketch6" against normal through all bodies 3
sketch "Sketch7" plane through (-0.1, 0, 0) normal (-1, 0, 0) x (0, 0, 1)
  line L0 (-41.1197, 37.7196) -> (-41.1197, 42.2916) projected
  line L1 (-45.6917, 37.7196) -> (-41.1197, 37.7196) projected
  line L2 (-41.1197, 42.2916) -> (-45.6917, 42.2916)
  line L3 (-45.6917, 42.2916) -> (-45.6917, 37.7196)
  line L4 (-45.6917, 37.7196) -> (-41.1197, 37.7196)
  line L5 (-41.1197, 37.7196) -> (-41.1197, 42.2916)
  line L6 (-29.2197, 42.2916) -> (-33.7917, 42.2916)
  line L7 (-33.7917, 42.2916) -> (-33.7917, 37.7196)
  line L8 (-33.7917, 37.7196) -> (-29.2197, 37.7196)
  line L9 (-29.2197, 37.7196) -> (-29.2197, 42.2916)
  line L10 (-17.3197, 42.2916) -> (-21.8917, 42.2916)
  line L11 (-21.8917, 42.2916) -> (-21.8917, 37.7196)
  line L12 (-21.8917, 37.7196) -> (-17.3197, 37.7196)
  line L13 (-17.3197, 37.7196) -> (-17.3197, 42.2916)
  line L14 (-5.4197, 42.2916) -> (-9.9917, 42.2916)
  line L15 (-9.9917, 42.2916) -> (-9.9917, 37.7196)
  line L16 (-9.9917, 37.7196) -> (-5.4197, 37.7196)
  line L17 (-5.4197, 37.7196) -> (-5.4197, 42.2916)
  line L18 (-41.1197, 30.6916) -> (-45.6917, 30.6916)
  line L19 (-45.6917, 30.6916) -> (-45.6917, 26.1196)
  line L20 (-45.6917, 26.1196) -> (-41.1197, 26.1196)
  line L21 (-41.1197, 26.1196) -> (-41.1197, 30.6916)
  line L22 (-29.2197, 30.6916) -> (-33.7917, 30.6916)
  line L23 (-33.7917, 30.6916) -> (-33.7917, 26.1196)
  line L24 (-33.7917, 26.1196) -> (-29.2197, 26.1196)
  line L25 (-29.2197, 26.1196) -> (-29.2197, 30.6916)
  line L26 (-17.3197, 30.6916) -> (-21.8917, 30.6916)
  line L27 (-21.8917, 30.6916) -> (-21.8917, 26.1196)
  line L28 (-21.8917, 26.1196) -> (-17.3197, 26.1196)
  line L29 (-17.3197, 26.1196) -> (-17.3197, 30.6916)
  line L30 (-5.4197, 30.6916) -> (-9.9917, 30.6916)
  line L31 (-9.9917, 30.6916) -> (-9.9917, 26.1196)
  line L32 (-9.9917, 26.1196) -> (-5.4197, 26.1196)
  line L33 (-5.4197, 26.1196) -> (-5.4197, 30.6916)
  line L34 (-41.1197, 19.0916) -> (-45.6917, 19.0916)
  line L35 (-45.6917, 19.0916) -> (-45.6917, 14.5196)
  line L36 (-45.6917, 14.5196) -> (-41.1197, 14.5196)
  line L37 (-41.1197, 14.5196) -> (-41.1197, 19.0916)
  line L38 (-29.2197, 19.0916) -> (-33.7917, 19.0916)
  line L39 (-33.7917, 19.0916) -> (-33.7917, 14.5196)
  line L40 (-33.7917, 14.5196) -> (-29.2197, 14.5196)
  line L41 (-29.2197, 14.5196) -> (-29.2197, 19.0916)
  line L42 (-17.3197, 19.0916) -> (-21.8917, 19.0916)
  line L43 (-21.8917, 19.0916) -> (-21.8917, 14.5196)
  line L44 (-21.8917, 14.5196) -> (-17.3197, 14.5196)
  line L45 (-17.3197, 14.5196) -> (-17.3197, 19.0916)
  line L46 (-5.4197, 19.0916) -> (-9.9917, 19.0916)
  line L47 (-9.9917, 19.0916) -> (-9.9917, 14.5196)
  line L48 (-9.9917, 14.5196) -> (-5.4197, 14.5196)
  line L49 (-5.4197, 14.5196) -> (-5.4197, 19.0916)
  line L50 (-35.3151, 31.8558) -> (-35.3151, 36.4278) projected
  line L51 (-39.8871, 36.4278) -> (-39.8871, 31.8558) projected
  line L52 (-35.3151, 36.4278) -> (-39.8871, 36.4278)
  line L53 (-39.8871, 36.4278) -> (-39.8871, 31.8558)
  line L54 (-39.8871, 31.8558) -> (-35.3151, 31.8558)
  line L55 (-35.3151, 31.8558) -> (-35.3151, 36.4278)
  line L56 (-35.3151, 24.8278) -> (-39.8871, 24.8278)
  line L57 (-35.3151, 20.2558) -> (-35.3151, 24.8278)
  line L58 (-39.8871, 20.2558) -> (-35.3151, 20.2558)
  line L59 (-39.8871, 24.8278) -> (-39.8871, 20.2558)
  line L60 (-23.4151, 36.4278) -> (-27.9871, 36.4278)
  line L61 (-23.4151, 31.8558) -> (-23.4151, 36.4278)
  line L62 (-27.9871, 31.8558) -> (-23.4151, 31.8558)
  line L63 (-27.9871, 36.4278) -> (-27.9871, 31.8558)
  line L64 (-23.4151, 24.8278) -> (-27.9871, 24.8278)
  line L65 (-23.4151, 20.2558) -> (-23.4151, 24.8278)
  line L66 (-27.9871, 20.2558) -> (-23.4151, 20.2558)
  line L67 (-27.9871, 24.8278) -> (-27.9871, 20.2558)
  line L68 (-11.5151, 36.4278) -> (-16.0871, 36.4278)
  line L69 (-11.5151, 31.8558) -> (-11.5151, 36.4278)
  line L70 (-16.0871, 31.8558) -> (-11.5151, 31.8558)
  line L71 (-16.0871, 36.4278) -> (-16.0871, 31.8558)
  line L72 (-11.5151, 24.8278) -> (-16.0871, 24.8278)
  line L73 (-11.5151, 20.2558) -> (-11.5151, 24.8278)
  line L74 (-16.0871, 20.2558) -> (-11.5151, 20.2558)
  line L75 (-16.0871, 24.8278) -> (-16.0871, 20.2558)
  point P0 (0, 0)
  dimension "d47" = 11.9
  dimension "d50" = 11.6
  dimension "d55" = 11.6
  dimension "d58" = 11.9
extrude "Extrusion6" cut sketch "Sketch7" against normal through all bodies 1
properties part number "3sqr x 1sqr x 3sqr metal connector"
